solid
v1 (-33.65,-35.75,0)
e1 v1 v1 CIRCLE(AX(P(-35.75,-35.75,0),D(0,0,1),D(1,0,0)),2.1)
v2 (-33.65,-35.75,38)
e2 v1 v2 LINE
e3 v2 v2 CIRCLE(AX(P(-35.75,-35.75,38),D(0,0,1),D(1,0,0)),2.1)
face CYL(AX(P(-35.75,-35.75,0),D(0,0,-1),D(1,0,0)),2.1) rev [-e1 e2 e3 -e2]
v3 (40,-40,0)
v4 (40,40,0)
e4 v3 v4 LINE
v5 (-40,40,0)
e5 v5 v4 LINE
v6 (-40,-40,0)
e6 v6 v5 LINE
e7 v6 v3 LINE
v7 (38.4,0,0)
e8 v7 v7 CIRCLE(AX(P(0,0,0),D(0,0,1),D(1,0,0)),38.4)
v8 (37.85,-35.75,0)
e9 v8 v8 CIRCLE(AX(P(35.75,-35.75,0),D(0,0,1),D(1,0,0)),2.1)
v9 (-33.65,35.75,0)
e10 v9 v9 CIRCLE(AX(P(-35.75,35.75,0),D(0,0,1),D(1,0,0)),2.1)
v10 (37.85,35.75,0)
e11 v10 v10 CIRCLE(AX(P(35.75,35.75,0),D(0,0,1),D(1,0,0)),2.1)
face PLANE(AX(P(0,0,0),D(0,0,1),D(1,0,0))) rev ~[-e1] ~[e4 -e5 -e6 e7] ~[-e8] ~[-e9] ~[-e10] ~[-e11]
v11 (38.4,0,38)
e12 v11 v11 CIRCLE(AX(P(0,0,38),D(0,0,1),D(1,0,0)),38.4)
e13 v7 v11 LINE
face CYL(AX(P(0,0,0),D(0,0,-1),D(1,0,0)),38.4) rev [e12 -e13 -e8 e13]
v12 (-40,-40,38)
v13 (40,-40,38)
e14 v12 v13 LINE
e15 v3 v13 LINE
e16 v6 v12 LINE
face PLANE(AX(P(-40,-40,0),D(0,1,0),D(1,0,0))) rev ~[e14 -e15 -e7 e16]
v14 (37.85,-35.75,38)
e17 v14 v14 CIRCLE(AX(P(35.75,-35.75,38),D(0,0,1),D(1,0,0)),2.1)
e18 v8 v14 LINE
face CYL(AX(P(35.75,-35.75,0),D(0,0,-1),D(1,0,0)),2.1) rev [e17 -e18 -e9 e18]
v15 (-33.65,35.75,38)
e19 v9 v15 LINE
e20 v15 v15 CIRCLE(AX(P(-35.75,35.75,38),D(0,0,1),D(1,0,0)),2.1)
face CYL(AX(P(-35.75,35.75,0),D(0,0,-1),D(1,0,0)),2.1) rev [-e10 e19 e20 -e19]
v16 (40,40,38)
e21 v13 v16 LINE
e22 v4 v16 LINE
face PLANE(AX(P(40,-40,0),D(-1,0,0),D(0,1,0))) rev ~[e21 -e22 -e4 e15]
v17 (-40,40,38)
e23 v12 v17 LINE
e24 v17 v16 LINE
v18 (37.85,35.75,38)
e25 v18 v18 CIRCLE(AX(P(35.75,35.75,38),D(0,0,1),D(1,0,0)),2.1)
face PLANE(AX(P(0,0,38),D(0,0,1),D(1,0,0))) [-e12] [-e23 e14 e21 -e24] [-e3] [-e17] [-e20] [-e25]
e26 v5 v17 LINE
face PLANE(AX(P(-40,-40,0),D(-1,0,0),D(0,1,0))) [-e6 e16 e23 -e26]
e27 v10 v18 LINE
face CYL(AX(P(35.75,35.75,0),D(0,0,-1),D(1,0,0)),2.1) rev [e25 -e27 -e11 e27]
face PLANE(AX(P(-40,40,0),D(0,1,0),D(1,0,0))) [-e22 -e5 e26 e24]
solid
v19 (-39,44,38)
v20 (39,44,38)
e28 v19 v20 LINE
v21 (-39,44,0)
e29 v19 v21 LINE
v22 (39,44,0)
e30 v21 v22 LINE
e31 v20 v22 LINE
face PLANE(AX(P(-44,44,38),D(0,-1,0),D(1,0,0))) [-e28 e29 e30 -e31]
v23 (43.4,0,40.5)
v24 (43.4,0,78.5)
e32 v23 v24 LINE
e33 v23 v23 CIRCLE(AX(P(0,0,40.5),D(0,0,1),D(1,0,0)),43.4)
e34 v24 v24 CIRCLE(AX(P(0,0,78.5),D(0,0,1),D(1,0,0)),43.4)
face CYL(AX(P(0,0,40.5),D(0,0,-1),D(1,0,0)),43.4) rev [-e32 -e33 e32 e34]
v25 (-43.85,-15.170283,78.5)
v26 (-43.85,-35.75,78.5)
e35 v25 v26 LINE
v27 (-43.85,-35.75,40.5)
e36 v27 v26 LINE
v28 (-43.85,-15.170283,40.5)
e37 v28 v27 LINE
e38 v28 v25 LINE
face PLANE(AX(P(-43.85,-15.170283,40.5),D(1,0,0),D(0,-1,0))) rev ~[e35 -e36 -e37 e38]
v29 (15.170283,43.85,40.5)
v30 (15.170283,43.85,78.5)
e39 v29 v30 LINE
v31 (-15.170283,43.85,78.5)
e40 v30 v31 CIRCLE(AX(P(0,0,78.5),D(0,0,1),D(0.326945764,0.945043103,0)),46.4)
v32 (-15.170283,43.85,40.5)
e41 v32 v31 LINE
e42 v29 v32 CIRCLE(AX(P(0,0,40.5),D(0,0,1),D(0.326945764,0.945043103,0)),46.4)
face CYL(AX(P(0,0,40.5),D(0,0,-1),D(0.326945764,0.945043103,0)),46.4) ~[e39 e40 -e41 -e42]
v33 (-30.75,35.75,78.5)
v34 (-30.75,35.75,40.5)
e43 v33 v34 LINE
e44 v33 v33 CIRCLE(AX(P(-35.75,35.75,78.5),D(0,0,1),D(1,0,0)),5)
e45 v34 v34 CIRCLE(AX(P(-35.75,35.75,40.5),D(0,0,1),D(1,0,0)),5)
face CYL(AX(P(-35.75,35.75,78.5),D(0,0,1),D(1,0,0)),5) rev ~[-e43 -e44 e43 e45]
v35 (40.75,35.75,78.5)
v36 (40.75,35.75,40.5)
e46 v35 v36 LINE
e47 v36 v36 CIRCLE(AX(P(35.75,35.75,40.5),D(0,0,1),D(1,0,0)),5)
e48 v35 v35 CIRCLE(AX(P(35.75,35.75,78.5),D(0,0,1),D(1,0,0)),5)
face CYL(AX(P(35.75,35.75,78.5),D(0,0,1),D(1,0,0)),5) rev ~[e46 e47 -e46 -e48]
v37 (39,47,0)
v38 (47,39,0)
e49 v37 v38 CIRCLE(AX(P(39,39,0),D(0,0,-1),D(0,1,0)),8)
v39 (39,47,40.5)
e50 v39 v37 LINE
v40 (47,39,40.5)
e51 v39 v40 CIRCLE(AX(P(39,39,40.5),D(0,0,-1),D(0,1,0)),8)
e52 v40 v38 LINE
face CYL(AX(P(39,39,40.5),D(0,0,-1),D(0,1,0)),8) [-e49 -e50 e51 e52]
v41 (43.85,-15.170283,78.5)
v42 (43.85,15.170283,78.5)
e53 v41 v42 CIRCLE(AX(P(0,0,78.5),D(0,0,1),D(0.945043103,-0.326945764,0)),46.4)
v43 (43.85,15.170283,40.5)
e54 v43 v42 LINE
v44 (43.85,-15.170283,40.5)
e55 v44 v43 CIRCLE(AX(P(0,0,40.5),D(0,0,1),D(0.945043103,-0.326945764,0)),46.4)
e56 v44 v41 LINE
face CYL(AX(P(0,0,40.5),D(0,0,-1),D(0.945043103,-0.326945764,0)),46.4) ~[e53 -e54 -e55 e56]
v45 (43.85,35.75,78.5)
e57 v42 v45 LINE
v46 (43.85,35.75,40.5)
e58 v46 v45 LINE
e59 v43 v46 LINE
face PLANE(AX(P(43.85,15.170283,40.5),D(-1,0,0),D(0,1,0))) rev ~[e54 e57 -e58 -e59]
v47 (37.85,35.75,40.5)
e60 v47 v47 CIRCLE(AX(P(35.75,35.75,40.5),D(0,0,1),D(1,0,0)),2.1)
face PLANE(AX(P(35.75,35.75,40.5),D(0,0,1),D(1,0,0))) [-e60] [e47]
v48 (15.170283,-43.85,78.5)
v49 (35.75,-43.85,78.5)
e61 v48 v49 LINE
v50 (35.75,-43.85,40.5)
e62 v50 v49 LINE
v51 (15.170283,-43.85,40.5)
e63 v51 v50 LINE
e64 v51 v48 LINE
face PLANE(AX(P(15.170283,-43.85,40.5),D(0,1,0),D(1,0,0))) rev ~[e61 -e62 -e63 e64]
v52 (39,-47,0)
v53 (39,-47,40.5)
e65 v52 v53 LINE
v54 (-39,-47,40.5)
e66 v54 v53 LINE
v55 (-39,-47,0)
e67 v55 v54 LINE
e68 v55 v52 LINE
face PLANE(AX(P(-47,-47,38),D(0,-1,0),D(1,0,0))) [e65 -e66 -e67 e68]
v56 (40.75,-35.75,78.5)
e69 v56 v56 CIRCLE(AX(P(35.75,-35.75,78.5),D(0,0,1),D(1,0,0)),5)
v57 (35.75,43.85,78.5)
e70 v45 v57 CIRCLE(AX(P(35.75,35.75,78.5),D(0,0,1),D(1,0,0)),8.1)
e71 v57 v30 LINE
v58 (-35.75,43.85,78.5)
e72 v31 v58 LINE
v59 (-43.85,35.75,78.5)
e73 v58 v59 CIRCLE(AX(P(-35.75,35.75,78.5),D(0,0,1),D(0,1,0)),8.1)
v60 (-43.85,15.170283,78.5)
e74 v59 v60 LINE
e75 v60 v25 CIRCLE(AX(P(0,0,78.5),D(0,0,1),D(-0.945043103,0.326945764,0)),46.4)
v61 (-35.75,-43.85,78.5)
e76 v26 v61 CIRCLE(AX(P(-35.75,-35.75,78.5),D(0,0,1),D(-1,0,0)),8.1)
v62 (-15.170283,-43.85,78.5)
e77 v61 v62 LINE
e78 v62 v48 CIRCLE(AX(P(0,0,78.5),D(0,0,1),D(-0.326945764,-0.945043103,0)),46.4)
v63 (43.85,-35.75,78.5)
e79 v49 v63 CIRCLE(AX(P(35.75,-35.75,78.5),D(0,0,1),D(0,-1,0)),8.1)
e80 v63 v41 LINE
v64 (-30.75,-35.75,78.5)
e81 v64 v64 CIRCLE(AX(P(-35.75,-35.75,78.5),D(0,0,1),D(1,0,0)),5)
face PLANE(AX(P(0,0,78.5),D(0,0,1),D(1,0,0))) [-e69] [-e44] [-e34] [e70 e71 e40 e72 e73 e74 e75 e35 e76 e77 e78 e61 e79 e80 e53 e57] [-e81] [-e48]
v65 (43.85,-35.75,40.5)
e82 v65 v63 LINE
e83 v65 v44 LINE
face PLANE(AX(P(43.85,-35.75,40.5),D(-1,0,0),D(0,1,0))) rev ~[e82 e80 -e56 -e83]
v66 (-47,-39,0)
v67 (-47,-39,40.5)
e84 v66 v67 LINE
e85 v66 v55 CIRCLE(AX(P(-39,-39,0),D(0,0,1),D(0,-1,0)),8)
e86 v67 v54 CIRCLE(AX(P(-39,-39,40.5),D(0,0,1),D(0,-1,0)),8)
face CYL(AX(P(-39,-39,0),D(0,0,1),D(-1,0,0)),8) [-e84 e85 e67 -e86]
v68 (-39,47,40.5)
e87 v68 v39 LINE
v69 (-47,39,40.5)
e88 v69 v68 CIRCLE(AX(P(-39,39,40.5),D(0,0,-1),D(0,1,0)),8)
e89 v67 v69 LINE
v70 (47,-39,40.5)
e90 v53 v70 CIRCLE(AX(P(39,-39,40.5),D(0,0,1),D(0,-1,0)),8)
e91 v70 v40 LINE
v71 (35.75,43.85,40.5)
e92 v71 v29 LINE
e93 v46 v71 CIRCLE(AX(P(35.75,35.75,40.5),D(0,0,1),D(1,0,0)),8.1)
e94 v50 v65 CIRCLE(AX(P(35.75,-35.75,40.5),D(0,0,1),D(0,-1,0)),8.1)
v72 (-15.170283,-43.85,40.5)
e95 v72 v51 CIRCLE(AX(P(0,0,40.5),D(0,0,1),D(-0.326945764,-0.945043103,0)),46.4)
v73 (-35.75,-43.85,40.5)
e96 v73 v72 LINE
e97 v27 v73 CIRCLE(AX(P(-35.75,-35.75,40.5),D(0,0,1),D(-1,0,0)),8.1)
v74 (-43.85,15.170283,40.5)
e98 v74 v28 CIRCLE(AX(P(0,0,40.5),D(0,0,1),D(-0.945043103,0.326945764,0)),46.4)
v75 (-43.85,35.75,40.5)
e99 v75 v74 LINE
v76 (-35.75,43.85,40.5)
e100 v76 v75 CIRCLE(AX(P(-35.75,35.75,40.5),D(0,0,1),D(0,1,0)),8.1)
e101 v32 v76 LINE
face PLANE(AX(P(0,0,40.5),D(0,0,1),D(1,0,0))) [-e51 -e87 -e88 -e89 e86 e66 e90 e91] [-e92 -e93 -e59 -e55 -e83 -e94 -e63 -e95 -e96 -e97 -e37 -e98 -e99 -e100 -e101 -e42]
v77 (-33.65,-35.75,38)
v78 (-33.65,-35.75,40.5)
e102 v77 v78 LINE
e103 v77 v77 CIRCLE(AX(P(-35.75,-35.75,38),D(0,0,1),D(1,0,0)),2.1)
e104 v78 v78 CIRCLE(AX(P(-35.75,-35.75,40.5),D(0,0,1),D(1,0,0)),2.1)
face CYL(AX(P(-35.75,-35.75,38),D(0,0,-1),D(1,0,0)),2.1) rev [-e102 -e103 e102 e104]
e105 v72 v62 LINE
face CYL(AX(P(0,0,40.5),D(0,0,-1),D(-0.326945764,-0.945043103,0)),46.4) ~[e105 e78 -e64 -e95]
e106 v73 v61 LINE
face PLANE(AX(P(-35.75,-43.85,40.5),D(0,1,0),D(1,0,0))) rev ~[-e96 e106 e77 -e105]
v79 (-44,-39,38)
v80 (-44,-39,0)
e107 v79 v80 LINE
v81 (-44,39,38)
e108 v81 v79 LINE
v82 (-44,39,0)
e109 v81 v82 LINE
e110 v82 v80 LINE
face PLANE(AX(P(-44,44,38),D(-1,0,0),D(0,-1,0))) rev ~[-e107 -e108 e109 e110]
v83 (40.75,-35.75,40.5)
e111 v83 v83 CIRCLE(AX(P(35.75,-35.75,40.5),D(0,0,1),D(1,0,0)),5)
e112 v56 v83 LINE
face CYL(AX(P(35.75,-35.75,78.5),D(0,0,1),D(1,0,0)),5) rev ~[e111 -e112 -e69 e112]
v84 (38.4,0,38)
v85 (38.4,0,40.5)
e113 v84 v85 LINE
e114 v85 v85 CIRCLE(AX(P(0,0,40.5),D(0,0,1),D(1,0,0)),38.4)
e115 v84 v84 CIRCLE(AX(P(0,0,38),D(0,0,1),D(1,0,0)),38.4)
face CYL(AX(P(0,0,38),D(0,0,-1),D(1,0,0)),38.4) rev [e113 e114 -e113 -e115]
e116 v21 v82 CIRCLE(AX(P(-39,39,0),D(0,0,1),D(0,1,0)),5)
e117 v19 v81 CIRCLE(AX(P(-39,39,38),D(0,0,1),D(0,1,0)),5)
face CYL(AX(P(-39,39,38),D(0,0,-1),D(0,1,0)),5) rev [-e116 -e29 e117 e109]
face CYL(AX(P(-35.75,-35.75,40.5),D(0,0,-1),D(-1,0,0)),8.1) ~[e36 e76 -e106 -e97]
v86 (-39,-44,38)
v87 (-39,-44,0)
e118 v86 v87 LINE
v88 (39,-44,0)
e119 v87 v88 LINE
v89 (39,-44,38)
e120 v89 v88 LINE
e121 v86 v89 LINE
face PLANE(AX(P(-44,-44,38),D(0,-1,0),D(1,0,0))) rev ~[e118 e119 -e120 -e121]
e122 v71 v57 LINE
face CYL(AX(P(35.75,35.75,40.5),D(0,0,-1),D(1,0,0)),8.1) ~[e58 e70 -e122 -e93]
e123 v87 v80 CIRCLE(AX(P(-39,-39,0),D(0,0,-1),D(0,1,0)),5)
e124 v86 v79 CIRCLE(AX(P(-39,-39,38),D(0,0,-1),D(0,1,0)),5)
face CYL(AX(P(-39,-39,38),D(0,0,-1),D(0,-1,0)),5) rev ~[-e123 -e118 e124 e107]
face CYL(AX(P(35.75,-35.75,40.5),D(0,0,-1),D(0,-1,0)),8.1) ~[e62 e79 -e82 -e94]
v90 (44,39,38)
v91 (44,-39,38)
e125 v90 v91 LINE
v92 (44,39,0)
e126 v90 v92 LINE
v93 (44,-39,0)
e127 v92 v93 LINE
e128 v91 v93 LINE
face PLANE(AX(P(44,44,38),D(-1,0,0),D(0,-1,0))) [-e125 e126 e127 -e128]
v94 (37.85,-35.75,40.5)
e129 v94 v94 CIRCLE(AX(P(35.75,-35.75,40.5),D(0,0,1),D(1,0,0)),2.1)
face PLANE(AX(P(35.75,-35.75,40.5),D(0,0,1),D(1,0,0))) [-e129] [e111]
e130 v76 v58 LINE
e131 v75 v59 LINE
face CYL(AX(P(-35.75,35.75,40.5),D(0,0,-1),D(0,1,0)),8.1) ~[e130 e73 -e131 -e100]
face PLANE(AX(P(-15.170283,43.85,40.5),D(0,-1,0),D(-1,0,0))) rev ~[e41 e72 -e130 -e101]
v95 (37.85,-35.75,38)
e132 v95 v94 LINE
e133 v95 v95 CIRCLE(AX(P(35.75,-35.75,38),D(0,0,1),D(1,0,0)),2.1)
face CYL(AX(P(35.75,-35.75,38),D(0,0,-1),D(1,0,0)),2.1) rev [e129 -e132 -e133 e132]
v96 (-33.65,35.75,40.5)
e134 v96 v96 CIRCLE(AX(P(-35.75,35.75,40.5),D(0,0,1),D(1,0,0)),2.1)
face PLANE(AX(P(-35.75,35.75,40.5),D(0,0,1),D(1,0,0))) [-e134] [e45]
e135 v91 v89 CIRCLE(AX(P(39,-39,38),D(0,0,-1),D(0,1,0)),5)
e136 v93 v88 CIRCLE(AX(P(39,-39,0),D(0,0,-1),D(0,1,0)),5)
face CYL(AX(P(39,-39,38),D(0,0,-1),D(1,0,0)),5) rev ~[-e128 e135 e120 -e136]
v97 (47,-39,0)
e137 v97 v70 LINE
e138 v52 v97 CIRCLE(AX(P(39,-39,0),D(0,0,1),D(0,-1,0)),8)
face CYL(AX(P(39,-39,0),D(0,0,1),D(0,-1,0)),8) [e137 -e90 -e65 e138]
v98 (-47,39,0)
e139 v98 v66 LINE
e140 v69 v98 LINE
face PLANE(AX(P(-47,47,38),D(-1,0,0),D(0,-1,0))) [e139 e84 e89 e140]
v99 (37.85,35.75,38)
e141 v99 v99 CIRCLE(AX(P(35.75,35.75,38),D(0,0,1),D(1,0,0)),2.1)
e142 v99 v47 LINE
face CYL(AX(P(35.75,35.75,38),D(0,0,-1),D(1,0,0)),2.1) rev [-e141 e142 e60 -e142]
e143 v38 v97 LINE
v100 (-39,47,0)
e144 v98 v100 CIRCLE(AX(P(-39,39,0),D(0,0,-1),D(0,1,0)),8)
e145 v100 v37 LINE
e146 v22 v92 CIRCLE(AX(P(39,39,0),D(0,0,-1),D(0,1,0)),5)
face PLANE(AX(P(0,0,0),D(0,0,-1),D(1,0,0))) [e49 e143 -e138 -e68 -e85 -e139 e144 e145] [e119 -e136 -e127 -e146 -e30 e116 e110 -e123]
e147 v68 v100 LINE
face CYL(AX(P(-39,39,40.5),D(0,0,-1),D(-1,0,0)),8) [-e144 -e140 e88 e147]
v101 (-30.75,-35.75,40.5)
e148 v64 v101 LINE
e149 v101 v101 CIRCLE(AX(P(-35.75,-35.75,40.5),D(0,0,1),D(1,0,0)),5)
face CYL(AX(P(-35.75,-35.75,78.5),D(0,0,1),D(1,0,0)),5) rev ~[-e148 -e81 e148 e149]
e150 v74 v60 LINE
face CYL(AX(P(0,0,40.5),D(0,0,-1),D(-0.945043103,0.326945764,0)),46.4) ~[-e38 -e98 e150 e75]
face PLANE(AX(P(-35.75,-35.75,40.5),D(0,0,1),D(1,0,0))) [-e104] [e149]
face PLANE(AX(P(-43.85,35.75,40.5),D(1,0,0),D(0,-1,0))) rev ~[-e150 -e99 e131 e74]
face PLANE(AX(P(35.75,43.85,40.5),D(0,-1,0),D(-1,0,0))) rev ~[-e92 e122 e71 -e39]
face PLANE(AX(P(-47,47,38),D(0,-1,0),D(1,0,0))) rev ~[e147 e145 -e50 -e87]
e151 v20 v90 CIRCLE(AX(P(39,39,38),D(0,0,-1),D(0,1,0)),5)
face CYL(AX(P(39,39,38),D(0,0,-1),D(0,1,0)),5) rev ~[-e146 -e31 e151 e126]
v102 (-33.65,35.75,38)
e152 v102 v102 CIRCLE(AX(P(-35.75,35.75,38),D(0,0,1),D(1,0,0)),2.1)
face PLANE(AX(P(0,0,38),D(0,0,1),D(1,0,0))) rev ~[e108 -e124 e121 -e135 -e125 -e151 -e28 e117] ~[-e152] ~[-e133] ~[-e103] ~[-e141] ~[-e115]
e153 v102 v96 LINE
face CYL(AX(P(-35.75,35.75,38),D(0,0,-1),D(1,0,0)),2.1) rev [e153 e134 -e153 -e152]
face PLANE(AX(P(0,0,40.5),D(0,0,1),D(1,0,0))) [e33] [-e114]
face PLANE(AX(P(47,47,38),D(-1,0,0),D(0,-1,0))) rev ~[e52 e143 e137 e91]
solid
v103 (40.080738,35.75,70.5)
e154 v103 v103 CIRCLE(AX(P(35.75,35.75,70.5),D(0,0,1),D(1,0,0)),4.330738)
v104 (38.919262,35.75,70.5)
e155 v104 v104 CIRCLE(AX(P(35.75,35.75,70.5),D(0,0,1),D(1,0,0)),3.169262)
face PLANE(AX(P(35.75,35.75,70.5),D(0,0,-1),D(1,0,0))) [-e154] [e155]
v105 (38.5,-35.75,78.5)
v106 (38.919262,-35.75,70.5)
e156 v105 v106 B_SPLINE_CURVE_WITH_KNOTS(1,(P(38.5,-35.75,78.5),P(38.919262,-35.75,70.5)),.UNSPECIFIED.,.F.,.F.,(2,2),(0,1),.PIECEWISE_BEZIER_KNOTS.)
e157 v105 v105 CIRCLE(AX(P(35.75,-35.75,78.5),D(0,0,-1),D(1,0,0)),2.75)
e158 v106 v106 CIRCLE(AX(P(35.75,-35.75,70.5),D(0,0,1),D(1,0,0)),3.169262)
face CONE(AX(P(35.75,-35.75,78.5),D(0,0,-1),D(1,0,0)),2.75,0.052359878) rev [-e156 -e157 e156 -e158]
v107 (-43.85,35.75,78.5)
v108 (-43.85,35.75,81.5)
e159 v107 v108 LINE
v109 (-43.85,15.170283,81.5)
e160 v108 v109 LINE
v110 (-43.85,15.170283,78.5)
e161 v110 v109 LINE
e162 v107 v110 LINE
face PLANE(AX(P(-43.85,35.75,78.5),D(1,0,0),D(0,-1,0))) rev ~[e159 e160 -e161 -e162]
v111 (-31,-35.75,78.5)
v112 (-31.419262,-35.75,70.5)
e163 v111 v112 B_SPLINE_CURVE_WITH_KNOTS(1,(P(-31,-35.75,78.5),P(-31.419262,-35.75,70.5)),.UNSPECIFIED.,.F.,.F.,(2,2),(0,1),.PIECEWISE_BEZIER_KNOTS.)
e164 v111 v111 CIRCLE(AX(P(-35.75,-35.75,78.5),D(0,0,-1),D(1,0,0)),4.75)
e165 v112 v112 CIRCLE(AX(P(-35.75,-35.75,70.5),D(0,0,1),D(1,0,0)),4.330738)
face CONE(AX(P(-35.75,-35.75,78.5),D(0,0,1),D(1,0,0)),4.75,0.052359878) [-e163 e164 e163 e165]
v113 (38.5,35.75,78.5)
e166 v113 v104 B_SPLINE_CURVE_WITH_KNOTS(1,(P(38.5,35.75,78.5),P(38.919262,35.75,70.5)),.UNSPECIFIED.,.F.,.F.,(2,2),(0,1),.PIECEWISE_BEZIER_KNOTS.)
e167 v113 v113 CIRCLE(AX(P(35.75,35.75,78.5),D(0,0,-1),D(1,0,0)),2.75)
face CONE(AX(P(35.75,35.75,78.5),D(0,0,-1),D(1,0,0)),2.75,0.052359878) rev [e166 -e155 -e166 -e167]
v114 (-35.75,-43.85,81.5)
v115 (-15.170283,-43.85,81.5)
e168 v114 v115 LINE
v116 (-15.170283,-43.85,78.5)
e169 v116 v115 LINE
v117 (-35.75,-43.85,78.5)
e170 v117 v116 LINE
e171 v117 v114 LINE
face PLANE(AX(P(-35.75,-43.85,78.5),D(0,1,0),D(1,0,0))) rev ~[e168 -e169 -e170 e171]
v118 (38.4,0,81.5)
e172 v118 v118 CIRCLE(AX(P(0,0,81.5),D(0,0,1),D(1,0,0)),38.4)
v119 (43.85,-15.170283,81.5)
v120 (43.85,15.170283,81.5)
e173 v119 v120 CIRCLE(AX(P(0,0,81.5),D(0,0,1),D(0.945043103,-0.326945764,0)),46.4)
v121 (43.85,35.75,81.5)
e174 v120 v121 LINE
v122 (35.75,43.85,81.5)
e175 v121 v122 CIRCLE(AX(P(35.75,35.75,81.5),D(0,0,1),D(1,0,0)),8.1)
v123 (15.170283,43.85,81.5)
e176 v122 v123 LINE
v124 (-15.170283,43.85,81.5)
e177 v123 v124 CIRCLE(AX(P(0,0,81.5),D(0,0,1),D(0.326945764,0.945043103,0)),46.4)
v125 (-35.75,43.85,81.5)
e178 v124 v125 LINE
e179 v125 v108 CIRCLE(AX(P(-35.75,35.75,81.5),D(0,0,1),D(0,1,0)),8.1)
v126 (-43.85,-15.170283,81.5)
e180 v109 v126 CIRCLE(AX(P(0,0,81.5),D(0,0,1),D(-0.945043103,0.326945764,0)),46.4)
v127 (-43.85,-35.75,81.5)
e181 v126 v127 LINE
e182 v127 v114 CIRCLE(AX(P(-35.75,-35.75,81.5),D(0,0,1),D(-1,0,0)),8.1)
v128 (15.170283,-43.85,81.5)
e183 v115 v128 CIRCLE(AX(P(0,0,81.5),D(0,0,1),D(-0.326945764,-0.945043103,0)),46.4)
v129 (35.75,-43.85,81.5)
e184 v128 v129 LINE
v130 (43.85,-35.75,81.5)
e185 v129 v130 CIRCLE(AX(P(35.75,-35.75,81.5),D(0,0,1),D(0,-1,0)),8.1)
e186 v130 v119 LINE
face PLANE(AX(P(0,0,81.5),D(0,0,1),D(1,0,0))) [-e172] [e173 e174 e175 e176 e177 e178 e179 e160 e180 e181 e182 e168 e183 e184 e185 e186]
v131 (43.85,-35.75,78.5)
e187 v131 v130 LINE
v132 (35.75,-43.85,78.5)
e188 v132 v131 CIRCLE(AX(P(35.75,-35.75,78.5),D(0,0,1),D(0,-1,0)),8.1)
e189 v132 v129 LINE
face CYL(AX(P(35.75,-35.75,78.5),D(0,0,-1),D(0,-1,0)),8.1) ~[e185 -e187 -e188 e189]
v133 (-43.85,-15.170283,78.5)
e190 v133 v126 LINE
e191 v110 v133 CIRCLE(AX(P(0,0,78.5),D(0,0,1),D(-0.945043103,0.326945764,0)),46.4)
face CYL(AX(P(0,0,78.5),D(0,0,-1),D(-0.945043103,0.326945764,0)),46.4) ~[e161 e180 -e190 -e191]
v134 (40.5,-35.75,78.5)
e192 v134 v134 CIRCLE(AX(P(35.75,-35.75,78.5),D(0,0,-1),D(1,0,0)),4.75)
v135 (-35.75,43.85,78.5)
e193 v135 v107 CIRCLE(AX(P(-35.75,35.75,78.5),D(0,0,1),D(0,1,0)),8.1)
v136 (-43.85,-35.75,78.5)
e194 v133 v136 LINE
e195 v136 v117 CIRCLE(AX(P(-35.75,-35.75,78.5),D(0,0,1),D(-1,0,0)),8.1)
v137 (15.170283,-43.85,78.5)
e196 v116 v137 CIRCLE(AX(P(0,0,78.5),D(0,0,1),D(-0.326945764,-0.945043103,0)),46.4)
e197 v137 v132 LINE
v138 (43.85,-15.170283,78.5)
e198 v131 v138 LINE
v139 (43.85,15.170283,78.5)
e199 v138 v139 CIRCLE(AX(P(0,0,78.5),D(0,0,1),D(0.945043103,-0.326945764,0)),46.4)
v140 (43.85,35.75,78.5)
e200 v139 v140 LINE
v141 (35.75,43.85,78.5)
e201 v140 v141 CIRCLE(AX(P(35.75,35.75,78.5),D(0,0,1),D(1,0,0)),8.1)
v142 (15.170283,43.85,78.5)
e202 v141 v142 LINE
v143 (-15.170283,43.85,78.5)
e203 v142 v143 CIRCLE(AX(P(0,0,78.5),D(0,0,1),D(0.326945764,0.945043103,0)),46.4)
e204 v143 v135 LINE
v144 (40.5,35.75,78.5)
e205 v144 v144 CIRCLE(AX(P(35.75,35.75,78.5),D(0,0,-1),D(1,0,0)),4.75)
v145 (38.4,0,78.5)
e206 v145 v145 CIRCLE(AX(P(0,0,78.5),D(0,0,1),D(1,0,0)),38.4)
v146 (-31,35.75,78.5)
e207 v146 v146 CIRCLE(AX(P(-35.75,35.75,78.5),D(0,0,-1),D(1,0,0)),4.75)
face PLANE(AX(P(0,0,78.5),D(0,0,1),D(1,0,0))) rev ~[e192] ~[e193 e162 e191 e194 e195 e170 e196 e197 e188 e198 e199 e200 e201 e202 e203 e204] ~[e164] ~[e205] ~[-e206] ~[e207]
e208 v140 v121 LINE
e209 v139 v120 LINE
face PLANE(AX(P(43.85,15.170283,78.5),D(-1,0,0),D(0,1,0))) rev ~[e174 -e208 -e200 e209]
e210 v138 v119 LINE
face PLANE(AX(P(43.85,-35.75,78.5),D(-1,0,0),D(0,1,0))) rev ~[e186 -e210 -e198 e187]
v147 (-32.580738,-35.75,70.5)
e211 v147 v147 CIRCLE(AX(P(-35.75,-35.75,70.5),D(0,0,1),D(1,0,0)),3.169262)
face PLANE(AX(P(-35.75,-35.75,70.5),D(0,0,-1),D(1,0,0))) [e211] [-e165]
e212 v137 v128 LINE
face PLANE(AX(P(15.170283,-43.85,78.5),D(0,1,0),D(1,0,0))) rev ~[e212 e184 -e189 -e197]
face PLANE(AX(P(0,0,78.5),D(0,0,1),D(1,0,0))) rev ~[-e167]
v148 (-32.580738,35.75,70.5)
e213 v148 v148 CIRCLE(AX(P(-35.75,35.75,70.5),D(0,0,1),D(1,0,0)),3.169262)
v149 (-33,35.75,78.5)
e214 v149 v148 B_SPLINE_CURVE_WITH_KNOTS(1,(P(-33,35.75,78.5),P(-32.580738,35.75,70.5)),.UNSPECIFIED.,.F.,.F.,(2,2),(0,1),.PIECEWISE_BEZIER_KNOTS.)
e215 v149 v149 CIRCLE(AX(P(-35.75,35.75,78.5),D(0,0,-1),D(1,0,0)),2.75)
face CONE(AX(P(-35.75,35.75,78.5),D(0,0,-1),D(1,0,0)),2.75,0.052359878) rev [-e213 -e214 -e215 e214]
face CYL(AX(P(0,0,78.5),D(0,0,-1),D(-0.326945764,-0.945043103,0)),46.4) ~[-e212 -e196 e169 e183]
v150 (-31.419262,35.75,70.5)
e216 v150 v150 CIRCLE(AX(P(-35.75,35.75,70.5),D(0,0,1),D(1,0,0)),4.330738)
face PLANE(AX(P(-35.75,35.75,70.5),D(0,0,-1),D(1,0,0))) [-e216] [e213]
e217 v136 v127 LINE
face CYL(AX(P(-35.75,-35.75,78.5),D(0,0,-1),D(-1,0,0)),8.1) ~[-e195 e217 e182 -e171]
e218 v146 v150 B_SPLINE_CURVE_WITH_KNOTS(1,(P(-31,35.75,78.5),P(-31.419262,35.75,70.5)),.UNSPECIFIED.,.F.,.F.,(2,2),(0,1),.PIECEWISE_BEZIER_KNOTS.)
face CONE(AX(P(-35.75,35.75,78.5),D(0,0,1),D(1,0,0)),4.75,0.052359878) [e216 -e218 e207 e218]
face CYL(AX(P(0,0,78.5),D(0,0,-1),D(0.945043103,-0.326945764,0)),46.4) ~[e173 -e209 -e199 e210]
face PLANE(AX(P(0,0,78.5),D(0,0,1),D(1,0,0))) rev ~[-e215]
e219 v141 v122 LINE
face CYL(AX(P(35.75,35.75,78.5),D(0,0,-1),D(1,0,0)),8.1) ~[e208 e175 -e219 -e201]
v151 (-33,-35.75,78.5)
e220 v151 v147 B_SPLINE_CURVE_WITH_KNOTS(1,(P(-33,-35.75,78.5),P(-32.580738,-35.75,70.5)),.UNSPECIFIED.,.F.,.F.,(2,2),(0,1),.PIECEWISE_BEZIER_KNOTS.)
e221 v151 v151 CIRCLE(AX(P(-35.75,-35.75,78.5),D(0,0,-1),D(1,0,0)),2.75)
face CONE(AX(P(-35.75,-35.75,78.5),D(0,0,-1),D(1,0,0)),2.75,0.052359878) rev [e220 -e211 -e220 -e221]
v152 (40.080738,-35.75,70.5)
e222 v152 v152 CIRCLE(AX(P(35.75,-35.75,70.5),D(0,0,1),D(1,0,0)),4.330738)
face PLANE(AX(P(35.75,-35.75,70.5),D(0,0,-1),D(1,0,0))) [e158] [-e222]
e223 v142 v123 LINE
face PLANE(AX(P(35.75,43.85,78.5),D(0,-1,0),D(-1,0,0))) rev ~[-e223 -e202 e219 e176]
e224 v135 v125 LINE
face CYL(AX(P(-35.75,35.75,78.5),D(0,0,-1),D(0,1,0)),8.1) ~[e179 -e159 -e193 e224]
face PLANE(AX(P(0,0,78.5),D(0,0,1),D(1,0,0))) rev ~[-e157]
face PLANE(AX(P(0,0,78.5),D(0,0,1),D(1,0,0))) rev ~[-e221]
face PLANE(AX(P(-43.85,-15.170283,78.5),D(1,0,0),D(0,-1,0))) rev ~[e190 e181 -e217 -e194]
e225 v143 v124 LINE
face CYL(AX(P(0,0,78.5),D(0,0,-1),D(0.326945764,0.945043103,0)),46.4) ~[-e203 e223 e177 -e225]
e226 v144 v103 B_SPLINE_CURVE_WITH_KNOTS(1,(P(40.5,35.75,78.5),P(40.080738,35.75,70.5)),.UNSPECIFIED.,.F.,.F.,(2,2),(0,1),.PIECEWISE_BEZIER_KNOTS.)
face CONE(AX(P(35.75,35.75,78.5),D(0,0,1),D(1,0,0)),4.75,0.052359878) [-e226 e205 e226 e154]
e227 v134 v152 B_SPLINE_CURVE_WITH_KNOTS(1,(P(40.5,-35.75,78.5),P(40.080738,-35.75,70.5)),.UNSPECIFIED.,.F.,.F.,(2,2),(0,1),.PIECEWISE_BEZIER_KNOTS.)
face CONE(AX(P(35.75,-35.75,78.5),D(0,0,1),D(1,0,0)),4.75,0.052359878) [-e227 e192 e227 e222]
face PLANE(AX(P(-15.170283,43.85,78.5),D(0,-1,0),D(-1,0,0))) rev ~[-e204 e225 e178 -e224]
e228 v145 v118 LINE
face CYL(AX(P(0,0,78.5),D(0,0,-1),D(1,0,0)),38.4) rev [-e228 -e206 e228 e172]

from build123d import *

# Parameters (mm, degrees)
F0_W      = 80
F0_H      = 80
F0_R      = 2.1
F0_R_2    = 38.4
F1_DEPTH  = 38
F2_W      = 94
F2_H      = 94
F2_R      = 2.1
F2_R_2    = 38.4
F3_DEPTH  = 2.5
F4_W      = 94
F4_H      = 94
F4_W_2    = 88
F4_H_2    = 88
F5_DEPTH  = 38
F6_R      = 43.4
F7_DEPTH  = 38
F8_R      = 5
F9_DEPTH  = 38
F10_R     = 5
F11_R     = 8
F12_R     = 38.4
F13_DEPTH = 3
F14_R     = 4.75
F14_R_2   = 2.75
F15_DEPTH = 8
F15_TAPER = 3


with BuildPart() as f1:
    # F0 (on Top) → F1 (new body)
    with BuildSketch(Plane.XY):
        Rectangle(F0_W, F0_H)
        with Locations((-35.75, -35.75)):
            Circle(F0_R, mode=Mode.SUBTRACT)
        with Locations((35.75, -35.75)):
            Circle(F0_R, mode=Mode.SUBTRACT)
        with Locations((-35.75, 35.75)):
            Circle(F0_R, mode=Mode.SUBTRACT)
        Circle(F0_R_2, mode=Mode.SUBTRACT)
        with Locations((35.75, 35.75)):
            Circle(F0_R, mode=Mode.SUBTRACT)
    extrude(amount=F1_DEPTH)


with BuildPart() as f3:
    # F2 (on face) → F3 (new body)
    with BuildSketch(Plane.XY.offset(38)):
        Rectangle(F2_W, F2_H)
        with Locations((-35.75, -35.75)):
            Circle(F2_R, mode=Mode.SUBTRACT)
        with Locations((35.75, -35.75)):
            Circle(F2_R, mode=Mode.SUBTRACT)
        with Locations((-35.75, 35.75)):
            Circle(F2_R, mode=Mode.SUBTRACT)
        Circle(F2_R_2, mode=Mode.SUBTRACT)
        with Locations((35.75, 35.75)):
            Circle(F2_R, mode=Mode.SUBTRACT)
    extrude(amount=F3_DEPTH)

    # F4 (on face) → F5 (join, through all)
    with BuildSketch(Plane(origin=(0, 0, 38), x_dir=(1, 0, 0), z_dir=(0, 0, -1))):
        Rectangle(F4_W, F4_H)
        Rectangle(F4_W_2, F4_H_2, mode=Mode.SUBTRACT)
    extrude(amount=F5_DEPTH)

    # F6 (on face) → F7 (join)
    with BuildSketch(Plane.XY.offset(40.5)):
        with BuildLine():
            Line((-43.85, 35.75), (-43.85, 15.1702834515))
            ThreePointArc((-43.85, 15.1702834515), (-46.4, 0), (-43.85, -15.1702834515))
            Line((-43.85, -15.1702834515), (-43.85, -35.75))
            ThreePointArc((-43.85, -35.75), (-41.4775649276, -41.4775649276), (-35.75, -43.85))
            Line((-35.75, -43.85), (-15.1702834515, -43.85))
            ThreePointArc((-15.1702834515, -43.85), (0, -46.4), (15.1702834515, -43.85))
            Line((15.1702834515, -43.85), (35.75, -43.85))
            ThreePointArc((35.75, -43.85), (41.4775649276, -41.4775649276), (43.85, -35.75))
            Line((43.85, -35.75), (43.85, -15.1702834515))
            ThreePointArc((43.85, -15.1702834515), (46.4, 0), (43.85, 15.1702834515))
            Line((43.85, 15.1702834515), (43.85, 35.75))
            ThreePointArc((43.85, 35.75), (41.4775649276, 41.4775649276), (35.75, 43.85))
            Line((35.75, 43.85), (15.1702834515, 43.85))
            ThreePointArc((15.1702834515, 43.85), (0, 46.4), (-15.1702834515, 43.85))
            Line((-15.1702834515, 43.85), (-35.75, 43.85))
            ThreePointArc((-35.75, 43.85), (-41.4775649276, 41.4775649276), (-43.85, 35.75))
        make_face()
        Circle(F6_R, mode=Mode.SUBTRACT)
    extrude(amount=F7_DEPTH)

    # F8 (on face) → F9 (cut, through all)
    with BuildSketch(Plane.XY.offset(78.5)):
        with Locations((-35.75, 35.75)):
            Circle(F8_R)
        with Locations((-35.75, -35.75)):
            Circle(F8_R)
        with Locations((35.75, -35.75)):
            Circle(F8_R)
        with Locations((35.75, 35.75)):
            Circle(F8_R)
    extrude(amount=-F9_DEPTH, mode=Mode.SUBTRACT)

    # F10
    f10_edges = [f3.edges().sort_by_distance(p)[0] for p in [
        (44, -44, 19),
        (-44, -44, 19),
        (-44, 44, 19),
        (44, 44, 19),
    ]]
    fillet(f10_edges, radius=F10_R)

    # F11
    f11_edges = [f3.edges().sort_by_distance(p)[0] for p in [
        (-47, -47, 20.25),
        (47, -47, 20.25),
        (-47, 47, 20.25),
        (47, 47, 20.25),
    ]]
    fillet(f11_edges, radius=F11_R)


with BuildPart() as f13:
    # F12 (on face) → F13 (new body)
    with BuildSketch(Plane.XY.offset(78.5)):
        with BuildLine():
            ThreePointArc((-15.1702834515, -43.85), (0, -46.4), (15.1702834515, -43.85))
            Line((15.1702834515, -43.85), (35.75, -43.85))
            ThreePointArc((35.75, -43.85), (41.4775649276, -41.4775649276), (43.85, -35.75))
            Line((43.85, -35.75), (43.85, -15.1702834515))
            ThreePointArc((43.85, -15.1702834515), (46.4, 0), (43.85, 15.1702834515))
            Line((43.85, 15.1702834515), (43.85, 35.75))
            ThreePointArc((43.85, 35.75), (41.4775649276, 41.4775649276), (35.75, 43.85))
            Line((35.75, 43.85), (15.1702834515, 43.85))
            ThreePointArc((15.1702834515, 43.85), (0, 46.4), (-15.1702834515, 43.85))
            Line((-15.1702834515, 43.85), (-35.75, 43.85))
            ThreePointArc((-35.75, 43.85), (-41.4775649276, 41.4775649276), (-43.85, 35.75))
            Line((-43.85, 35.75), (-43.85, 15.1702834515))
            ThreePointArc((-43.85, 15.1702834515), (-46.4, 0), (-43.85, -15.1702834515))
            Line((-43.85, -15.1702834515), (-43.85, -35.75))
            ThreePointArc((-43.85, -35.75), (-41.4775649276, -41.4775649276), (-35.75, -43.85))
            Line((-35.75, -43.85), (-15.1702834515, -43.85))
        make_face()
        Circle(F12_R, mode=Mode.SUBTRACT)
    extrude(amount=F13_DEPTH)

    # F14 (on face) → F15 (join)
    with BuildSketch(Plane(origin=(0, 0, 78.5), x_dir=(1, 0, 0), z_dir=(0, 0, -1))):
        with Locations((-35.75, -35.75)):
            Circle(F14_R)
        with Locations((-35.75, -35.75)):
            Circle(F14_R_2, mode=Mode.SUBTRACT)
        with Locations((35.75, -35.75)):
            Circle(F14_R)
        with Locations((35.75, -35.75)):
            Circle(F14_R_2, mode=Mode.SUBTRACT)
        with Locations((35.75, 35.75)):
            Circle(F14_R)
        with Locations((35.75, 35.75)):
            Circle(F14_R_2, mode=Mode.SUBTRACT)
        with Locations((-35.75, 35.75)):
            Circle(F14_R)
        with Locations((-35.75, 35.75)):
            Circle(F14_R_2, mode=Mode.SUBTRACT)
    extrude(amount=F15_DEPTH, taper=F15_TAPER)


solid = Compound([f1.part, f3.part, f13.part])
